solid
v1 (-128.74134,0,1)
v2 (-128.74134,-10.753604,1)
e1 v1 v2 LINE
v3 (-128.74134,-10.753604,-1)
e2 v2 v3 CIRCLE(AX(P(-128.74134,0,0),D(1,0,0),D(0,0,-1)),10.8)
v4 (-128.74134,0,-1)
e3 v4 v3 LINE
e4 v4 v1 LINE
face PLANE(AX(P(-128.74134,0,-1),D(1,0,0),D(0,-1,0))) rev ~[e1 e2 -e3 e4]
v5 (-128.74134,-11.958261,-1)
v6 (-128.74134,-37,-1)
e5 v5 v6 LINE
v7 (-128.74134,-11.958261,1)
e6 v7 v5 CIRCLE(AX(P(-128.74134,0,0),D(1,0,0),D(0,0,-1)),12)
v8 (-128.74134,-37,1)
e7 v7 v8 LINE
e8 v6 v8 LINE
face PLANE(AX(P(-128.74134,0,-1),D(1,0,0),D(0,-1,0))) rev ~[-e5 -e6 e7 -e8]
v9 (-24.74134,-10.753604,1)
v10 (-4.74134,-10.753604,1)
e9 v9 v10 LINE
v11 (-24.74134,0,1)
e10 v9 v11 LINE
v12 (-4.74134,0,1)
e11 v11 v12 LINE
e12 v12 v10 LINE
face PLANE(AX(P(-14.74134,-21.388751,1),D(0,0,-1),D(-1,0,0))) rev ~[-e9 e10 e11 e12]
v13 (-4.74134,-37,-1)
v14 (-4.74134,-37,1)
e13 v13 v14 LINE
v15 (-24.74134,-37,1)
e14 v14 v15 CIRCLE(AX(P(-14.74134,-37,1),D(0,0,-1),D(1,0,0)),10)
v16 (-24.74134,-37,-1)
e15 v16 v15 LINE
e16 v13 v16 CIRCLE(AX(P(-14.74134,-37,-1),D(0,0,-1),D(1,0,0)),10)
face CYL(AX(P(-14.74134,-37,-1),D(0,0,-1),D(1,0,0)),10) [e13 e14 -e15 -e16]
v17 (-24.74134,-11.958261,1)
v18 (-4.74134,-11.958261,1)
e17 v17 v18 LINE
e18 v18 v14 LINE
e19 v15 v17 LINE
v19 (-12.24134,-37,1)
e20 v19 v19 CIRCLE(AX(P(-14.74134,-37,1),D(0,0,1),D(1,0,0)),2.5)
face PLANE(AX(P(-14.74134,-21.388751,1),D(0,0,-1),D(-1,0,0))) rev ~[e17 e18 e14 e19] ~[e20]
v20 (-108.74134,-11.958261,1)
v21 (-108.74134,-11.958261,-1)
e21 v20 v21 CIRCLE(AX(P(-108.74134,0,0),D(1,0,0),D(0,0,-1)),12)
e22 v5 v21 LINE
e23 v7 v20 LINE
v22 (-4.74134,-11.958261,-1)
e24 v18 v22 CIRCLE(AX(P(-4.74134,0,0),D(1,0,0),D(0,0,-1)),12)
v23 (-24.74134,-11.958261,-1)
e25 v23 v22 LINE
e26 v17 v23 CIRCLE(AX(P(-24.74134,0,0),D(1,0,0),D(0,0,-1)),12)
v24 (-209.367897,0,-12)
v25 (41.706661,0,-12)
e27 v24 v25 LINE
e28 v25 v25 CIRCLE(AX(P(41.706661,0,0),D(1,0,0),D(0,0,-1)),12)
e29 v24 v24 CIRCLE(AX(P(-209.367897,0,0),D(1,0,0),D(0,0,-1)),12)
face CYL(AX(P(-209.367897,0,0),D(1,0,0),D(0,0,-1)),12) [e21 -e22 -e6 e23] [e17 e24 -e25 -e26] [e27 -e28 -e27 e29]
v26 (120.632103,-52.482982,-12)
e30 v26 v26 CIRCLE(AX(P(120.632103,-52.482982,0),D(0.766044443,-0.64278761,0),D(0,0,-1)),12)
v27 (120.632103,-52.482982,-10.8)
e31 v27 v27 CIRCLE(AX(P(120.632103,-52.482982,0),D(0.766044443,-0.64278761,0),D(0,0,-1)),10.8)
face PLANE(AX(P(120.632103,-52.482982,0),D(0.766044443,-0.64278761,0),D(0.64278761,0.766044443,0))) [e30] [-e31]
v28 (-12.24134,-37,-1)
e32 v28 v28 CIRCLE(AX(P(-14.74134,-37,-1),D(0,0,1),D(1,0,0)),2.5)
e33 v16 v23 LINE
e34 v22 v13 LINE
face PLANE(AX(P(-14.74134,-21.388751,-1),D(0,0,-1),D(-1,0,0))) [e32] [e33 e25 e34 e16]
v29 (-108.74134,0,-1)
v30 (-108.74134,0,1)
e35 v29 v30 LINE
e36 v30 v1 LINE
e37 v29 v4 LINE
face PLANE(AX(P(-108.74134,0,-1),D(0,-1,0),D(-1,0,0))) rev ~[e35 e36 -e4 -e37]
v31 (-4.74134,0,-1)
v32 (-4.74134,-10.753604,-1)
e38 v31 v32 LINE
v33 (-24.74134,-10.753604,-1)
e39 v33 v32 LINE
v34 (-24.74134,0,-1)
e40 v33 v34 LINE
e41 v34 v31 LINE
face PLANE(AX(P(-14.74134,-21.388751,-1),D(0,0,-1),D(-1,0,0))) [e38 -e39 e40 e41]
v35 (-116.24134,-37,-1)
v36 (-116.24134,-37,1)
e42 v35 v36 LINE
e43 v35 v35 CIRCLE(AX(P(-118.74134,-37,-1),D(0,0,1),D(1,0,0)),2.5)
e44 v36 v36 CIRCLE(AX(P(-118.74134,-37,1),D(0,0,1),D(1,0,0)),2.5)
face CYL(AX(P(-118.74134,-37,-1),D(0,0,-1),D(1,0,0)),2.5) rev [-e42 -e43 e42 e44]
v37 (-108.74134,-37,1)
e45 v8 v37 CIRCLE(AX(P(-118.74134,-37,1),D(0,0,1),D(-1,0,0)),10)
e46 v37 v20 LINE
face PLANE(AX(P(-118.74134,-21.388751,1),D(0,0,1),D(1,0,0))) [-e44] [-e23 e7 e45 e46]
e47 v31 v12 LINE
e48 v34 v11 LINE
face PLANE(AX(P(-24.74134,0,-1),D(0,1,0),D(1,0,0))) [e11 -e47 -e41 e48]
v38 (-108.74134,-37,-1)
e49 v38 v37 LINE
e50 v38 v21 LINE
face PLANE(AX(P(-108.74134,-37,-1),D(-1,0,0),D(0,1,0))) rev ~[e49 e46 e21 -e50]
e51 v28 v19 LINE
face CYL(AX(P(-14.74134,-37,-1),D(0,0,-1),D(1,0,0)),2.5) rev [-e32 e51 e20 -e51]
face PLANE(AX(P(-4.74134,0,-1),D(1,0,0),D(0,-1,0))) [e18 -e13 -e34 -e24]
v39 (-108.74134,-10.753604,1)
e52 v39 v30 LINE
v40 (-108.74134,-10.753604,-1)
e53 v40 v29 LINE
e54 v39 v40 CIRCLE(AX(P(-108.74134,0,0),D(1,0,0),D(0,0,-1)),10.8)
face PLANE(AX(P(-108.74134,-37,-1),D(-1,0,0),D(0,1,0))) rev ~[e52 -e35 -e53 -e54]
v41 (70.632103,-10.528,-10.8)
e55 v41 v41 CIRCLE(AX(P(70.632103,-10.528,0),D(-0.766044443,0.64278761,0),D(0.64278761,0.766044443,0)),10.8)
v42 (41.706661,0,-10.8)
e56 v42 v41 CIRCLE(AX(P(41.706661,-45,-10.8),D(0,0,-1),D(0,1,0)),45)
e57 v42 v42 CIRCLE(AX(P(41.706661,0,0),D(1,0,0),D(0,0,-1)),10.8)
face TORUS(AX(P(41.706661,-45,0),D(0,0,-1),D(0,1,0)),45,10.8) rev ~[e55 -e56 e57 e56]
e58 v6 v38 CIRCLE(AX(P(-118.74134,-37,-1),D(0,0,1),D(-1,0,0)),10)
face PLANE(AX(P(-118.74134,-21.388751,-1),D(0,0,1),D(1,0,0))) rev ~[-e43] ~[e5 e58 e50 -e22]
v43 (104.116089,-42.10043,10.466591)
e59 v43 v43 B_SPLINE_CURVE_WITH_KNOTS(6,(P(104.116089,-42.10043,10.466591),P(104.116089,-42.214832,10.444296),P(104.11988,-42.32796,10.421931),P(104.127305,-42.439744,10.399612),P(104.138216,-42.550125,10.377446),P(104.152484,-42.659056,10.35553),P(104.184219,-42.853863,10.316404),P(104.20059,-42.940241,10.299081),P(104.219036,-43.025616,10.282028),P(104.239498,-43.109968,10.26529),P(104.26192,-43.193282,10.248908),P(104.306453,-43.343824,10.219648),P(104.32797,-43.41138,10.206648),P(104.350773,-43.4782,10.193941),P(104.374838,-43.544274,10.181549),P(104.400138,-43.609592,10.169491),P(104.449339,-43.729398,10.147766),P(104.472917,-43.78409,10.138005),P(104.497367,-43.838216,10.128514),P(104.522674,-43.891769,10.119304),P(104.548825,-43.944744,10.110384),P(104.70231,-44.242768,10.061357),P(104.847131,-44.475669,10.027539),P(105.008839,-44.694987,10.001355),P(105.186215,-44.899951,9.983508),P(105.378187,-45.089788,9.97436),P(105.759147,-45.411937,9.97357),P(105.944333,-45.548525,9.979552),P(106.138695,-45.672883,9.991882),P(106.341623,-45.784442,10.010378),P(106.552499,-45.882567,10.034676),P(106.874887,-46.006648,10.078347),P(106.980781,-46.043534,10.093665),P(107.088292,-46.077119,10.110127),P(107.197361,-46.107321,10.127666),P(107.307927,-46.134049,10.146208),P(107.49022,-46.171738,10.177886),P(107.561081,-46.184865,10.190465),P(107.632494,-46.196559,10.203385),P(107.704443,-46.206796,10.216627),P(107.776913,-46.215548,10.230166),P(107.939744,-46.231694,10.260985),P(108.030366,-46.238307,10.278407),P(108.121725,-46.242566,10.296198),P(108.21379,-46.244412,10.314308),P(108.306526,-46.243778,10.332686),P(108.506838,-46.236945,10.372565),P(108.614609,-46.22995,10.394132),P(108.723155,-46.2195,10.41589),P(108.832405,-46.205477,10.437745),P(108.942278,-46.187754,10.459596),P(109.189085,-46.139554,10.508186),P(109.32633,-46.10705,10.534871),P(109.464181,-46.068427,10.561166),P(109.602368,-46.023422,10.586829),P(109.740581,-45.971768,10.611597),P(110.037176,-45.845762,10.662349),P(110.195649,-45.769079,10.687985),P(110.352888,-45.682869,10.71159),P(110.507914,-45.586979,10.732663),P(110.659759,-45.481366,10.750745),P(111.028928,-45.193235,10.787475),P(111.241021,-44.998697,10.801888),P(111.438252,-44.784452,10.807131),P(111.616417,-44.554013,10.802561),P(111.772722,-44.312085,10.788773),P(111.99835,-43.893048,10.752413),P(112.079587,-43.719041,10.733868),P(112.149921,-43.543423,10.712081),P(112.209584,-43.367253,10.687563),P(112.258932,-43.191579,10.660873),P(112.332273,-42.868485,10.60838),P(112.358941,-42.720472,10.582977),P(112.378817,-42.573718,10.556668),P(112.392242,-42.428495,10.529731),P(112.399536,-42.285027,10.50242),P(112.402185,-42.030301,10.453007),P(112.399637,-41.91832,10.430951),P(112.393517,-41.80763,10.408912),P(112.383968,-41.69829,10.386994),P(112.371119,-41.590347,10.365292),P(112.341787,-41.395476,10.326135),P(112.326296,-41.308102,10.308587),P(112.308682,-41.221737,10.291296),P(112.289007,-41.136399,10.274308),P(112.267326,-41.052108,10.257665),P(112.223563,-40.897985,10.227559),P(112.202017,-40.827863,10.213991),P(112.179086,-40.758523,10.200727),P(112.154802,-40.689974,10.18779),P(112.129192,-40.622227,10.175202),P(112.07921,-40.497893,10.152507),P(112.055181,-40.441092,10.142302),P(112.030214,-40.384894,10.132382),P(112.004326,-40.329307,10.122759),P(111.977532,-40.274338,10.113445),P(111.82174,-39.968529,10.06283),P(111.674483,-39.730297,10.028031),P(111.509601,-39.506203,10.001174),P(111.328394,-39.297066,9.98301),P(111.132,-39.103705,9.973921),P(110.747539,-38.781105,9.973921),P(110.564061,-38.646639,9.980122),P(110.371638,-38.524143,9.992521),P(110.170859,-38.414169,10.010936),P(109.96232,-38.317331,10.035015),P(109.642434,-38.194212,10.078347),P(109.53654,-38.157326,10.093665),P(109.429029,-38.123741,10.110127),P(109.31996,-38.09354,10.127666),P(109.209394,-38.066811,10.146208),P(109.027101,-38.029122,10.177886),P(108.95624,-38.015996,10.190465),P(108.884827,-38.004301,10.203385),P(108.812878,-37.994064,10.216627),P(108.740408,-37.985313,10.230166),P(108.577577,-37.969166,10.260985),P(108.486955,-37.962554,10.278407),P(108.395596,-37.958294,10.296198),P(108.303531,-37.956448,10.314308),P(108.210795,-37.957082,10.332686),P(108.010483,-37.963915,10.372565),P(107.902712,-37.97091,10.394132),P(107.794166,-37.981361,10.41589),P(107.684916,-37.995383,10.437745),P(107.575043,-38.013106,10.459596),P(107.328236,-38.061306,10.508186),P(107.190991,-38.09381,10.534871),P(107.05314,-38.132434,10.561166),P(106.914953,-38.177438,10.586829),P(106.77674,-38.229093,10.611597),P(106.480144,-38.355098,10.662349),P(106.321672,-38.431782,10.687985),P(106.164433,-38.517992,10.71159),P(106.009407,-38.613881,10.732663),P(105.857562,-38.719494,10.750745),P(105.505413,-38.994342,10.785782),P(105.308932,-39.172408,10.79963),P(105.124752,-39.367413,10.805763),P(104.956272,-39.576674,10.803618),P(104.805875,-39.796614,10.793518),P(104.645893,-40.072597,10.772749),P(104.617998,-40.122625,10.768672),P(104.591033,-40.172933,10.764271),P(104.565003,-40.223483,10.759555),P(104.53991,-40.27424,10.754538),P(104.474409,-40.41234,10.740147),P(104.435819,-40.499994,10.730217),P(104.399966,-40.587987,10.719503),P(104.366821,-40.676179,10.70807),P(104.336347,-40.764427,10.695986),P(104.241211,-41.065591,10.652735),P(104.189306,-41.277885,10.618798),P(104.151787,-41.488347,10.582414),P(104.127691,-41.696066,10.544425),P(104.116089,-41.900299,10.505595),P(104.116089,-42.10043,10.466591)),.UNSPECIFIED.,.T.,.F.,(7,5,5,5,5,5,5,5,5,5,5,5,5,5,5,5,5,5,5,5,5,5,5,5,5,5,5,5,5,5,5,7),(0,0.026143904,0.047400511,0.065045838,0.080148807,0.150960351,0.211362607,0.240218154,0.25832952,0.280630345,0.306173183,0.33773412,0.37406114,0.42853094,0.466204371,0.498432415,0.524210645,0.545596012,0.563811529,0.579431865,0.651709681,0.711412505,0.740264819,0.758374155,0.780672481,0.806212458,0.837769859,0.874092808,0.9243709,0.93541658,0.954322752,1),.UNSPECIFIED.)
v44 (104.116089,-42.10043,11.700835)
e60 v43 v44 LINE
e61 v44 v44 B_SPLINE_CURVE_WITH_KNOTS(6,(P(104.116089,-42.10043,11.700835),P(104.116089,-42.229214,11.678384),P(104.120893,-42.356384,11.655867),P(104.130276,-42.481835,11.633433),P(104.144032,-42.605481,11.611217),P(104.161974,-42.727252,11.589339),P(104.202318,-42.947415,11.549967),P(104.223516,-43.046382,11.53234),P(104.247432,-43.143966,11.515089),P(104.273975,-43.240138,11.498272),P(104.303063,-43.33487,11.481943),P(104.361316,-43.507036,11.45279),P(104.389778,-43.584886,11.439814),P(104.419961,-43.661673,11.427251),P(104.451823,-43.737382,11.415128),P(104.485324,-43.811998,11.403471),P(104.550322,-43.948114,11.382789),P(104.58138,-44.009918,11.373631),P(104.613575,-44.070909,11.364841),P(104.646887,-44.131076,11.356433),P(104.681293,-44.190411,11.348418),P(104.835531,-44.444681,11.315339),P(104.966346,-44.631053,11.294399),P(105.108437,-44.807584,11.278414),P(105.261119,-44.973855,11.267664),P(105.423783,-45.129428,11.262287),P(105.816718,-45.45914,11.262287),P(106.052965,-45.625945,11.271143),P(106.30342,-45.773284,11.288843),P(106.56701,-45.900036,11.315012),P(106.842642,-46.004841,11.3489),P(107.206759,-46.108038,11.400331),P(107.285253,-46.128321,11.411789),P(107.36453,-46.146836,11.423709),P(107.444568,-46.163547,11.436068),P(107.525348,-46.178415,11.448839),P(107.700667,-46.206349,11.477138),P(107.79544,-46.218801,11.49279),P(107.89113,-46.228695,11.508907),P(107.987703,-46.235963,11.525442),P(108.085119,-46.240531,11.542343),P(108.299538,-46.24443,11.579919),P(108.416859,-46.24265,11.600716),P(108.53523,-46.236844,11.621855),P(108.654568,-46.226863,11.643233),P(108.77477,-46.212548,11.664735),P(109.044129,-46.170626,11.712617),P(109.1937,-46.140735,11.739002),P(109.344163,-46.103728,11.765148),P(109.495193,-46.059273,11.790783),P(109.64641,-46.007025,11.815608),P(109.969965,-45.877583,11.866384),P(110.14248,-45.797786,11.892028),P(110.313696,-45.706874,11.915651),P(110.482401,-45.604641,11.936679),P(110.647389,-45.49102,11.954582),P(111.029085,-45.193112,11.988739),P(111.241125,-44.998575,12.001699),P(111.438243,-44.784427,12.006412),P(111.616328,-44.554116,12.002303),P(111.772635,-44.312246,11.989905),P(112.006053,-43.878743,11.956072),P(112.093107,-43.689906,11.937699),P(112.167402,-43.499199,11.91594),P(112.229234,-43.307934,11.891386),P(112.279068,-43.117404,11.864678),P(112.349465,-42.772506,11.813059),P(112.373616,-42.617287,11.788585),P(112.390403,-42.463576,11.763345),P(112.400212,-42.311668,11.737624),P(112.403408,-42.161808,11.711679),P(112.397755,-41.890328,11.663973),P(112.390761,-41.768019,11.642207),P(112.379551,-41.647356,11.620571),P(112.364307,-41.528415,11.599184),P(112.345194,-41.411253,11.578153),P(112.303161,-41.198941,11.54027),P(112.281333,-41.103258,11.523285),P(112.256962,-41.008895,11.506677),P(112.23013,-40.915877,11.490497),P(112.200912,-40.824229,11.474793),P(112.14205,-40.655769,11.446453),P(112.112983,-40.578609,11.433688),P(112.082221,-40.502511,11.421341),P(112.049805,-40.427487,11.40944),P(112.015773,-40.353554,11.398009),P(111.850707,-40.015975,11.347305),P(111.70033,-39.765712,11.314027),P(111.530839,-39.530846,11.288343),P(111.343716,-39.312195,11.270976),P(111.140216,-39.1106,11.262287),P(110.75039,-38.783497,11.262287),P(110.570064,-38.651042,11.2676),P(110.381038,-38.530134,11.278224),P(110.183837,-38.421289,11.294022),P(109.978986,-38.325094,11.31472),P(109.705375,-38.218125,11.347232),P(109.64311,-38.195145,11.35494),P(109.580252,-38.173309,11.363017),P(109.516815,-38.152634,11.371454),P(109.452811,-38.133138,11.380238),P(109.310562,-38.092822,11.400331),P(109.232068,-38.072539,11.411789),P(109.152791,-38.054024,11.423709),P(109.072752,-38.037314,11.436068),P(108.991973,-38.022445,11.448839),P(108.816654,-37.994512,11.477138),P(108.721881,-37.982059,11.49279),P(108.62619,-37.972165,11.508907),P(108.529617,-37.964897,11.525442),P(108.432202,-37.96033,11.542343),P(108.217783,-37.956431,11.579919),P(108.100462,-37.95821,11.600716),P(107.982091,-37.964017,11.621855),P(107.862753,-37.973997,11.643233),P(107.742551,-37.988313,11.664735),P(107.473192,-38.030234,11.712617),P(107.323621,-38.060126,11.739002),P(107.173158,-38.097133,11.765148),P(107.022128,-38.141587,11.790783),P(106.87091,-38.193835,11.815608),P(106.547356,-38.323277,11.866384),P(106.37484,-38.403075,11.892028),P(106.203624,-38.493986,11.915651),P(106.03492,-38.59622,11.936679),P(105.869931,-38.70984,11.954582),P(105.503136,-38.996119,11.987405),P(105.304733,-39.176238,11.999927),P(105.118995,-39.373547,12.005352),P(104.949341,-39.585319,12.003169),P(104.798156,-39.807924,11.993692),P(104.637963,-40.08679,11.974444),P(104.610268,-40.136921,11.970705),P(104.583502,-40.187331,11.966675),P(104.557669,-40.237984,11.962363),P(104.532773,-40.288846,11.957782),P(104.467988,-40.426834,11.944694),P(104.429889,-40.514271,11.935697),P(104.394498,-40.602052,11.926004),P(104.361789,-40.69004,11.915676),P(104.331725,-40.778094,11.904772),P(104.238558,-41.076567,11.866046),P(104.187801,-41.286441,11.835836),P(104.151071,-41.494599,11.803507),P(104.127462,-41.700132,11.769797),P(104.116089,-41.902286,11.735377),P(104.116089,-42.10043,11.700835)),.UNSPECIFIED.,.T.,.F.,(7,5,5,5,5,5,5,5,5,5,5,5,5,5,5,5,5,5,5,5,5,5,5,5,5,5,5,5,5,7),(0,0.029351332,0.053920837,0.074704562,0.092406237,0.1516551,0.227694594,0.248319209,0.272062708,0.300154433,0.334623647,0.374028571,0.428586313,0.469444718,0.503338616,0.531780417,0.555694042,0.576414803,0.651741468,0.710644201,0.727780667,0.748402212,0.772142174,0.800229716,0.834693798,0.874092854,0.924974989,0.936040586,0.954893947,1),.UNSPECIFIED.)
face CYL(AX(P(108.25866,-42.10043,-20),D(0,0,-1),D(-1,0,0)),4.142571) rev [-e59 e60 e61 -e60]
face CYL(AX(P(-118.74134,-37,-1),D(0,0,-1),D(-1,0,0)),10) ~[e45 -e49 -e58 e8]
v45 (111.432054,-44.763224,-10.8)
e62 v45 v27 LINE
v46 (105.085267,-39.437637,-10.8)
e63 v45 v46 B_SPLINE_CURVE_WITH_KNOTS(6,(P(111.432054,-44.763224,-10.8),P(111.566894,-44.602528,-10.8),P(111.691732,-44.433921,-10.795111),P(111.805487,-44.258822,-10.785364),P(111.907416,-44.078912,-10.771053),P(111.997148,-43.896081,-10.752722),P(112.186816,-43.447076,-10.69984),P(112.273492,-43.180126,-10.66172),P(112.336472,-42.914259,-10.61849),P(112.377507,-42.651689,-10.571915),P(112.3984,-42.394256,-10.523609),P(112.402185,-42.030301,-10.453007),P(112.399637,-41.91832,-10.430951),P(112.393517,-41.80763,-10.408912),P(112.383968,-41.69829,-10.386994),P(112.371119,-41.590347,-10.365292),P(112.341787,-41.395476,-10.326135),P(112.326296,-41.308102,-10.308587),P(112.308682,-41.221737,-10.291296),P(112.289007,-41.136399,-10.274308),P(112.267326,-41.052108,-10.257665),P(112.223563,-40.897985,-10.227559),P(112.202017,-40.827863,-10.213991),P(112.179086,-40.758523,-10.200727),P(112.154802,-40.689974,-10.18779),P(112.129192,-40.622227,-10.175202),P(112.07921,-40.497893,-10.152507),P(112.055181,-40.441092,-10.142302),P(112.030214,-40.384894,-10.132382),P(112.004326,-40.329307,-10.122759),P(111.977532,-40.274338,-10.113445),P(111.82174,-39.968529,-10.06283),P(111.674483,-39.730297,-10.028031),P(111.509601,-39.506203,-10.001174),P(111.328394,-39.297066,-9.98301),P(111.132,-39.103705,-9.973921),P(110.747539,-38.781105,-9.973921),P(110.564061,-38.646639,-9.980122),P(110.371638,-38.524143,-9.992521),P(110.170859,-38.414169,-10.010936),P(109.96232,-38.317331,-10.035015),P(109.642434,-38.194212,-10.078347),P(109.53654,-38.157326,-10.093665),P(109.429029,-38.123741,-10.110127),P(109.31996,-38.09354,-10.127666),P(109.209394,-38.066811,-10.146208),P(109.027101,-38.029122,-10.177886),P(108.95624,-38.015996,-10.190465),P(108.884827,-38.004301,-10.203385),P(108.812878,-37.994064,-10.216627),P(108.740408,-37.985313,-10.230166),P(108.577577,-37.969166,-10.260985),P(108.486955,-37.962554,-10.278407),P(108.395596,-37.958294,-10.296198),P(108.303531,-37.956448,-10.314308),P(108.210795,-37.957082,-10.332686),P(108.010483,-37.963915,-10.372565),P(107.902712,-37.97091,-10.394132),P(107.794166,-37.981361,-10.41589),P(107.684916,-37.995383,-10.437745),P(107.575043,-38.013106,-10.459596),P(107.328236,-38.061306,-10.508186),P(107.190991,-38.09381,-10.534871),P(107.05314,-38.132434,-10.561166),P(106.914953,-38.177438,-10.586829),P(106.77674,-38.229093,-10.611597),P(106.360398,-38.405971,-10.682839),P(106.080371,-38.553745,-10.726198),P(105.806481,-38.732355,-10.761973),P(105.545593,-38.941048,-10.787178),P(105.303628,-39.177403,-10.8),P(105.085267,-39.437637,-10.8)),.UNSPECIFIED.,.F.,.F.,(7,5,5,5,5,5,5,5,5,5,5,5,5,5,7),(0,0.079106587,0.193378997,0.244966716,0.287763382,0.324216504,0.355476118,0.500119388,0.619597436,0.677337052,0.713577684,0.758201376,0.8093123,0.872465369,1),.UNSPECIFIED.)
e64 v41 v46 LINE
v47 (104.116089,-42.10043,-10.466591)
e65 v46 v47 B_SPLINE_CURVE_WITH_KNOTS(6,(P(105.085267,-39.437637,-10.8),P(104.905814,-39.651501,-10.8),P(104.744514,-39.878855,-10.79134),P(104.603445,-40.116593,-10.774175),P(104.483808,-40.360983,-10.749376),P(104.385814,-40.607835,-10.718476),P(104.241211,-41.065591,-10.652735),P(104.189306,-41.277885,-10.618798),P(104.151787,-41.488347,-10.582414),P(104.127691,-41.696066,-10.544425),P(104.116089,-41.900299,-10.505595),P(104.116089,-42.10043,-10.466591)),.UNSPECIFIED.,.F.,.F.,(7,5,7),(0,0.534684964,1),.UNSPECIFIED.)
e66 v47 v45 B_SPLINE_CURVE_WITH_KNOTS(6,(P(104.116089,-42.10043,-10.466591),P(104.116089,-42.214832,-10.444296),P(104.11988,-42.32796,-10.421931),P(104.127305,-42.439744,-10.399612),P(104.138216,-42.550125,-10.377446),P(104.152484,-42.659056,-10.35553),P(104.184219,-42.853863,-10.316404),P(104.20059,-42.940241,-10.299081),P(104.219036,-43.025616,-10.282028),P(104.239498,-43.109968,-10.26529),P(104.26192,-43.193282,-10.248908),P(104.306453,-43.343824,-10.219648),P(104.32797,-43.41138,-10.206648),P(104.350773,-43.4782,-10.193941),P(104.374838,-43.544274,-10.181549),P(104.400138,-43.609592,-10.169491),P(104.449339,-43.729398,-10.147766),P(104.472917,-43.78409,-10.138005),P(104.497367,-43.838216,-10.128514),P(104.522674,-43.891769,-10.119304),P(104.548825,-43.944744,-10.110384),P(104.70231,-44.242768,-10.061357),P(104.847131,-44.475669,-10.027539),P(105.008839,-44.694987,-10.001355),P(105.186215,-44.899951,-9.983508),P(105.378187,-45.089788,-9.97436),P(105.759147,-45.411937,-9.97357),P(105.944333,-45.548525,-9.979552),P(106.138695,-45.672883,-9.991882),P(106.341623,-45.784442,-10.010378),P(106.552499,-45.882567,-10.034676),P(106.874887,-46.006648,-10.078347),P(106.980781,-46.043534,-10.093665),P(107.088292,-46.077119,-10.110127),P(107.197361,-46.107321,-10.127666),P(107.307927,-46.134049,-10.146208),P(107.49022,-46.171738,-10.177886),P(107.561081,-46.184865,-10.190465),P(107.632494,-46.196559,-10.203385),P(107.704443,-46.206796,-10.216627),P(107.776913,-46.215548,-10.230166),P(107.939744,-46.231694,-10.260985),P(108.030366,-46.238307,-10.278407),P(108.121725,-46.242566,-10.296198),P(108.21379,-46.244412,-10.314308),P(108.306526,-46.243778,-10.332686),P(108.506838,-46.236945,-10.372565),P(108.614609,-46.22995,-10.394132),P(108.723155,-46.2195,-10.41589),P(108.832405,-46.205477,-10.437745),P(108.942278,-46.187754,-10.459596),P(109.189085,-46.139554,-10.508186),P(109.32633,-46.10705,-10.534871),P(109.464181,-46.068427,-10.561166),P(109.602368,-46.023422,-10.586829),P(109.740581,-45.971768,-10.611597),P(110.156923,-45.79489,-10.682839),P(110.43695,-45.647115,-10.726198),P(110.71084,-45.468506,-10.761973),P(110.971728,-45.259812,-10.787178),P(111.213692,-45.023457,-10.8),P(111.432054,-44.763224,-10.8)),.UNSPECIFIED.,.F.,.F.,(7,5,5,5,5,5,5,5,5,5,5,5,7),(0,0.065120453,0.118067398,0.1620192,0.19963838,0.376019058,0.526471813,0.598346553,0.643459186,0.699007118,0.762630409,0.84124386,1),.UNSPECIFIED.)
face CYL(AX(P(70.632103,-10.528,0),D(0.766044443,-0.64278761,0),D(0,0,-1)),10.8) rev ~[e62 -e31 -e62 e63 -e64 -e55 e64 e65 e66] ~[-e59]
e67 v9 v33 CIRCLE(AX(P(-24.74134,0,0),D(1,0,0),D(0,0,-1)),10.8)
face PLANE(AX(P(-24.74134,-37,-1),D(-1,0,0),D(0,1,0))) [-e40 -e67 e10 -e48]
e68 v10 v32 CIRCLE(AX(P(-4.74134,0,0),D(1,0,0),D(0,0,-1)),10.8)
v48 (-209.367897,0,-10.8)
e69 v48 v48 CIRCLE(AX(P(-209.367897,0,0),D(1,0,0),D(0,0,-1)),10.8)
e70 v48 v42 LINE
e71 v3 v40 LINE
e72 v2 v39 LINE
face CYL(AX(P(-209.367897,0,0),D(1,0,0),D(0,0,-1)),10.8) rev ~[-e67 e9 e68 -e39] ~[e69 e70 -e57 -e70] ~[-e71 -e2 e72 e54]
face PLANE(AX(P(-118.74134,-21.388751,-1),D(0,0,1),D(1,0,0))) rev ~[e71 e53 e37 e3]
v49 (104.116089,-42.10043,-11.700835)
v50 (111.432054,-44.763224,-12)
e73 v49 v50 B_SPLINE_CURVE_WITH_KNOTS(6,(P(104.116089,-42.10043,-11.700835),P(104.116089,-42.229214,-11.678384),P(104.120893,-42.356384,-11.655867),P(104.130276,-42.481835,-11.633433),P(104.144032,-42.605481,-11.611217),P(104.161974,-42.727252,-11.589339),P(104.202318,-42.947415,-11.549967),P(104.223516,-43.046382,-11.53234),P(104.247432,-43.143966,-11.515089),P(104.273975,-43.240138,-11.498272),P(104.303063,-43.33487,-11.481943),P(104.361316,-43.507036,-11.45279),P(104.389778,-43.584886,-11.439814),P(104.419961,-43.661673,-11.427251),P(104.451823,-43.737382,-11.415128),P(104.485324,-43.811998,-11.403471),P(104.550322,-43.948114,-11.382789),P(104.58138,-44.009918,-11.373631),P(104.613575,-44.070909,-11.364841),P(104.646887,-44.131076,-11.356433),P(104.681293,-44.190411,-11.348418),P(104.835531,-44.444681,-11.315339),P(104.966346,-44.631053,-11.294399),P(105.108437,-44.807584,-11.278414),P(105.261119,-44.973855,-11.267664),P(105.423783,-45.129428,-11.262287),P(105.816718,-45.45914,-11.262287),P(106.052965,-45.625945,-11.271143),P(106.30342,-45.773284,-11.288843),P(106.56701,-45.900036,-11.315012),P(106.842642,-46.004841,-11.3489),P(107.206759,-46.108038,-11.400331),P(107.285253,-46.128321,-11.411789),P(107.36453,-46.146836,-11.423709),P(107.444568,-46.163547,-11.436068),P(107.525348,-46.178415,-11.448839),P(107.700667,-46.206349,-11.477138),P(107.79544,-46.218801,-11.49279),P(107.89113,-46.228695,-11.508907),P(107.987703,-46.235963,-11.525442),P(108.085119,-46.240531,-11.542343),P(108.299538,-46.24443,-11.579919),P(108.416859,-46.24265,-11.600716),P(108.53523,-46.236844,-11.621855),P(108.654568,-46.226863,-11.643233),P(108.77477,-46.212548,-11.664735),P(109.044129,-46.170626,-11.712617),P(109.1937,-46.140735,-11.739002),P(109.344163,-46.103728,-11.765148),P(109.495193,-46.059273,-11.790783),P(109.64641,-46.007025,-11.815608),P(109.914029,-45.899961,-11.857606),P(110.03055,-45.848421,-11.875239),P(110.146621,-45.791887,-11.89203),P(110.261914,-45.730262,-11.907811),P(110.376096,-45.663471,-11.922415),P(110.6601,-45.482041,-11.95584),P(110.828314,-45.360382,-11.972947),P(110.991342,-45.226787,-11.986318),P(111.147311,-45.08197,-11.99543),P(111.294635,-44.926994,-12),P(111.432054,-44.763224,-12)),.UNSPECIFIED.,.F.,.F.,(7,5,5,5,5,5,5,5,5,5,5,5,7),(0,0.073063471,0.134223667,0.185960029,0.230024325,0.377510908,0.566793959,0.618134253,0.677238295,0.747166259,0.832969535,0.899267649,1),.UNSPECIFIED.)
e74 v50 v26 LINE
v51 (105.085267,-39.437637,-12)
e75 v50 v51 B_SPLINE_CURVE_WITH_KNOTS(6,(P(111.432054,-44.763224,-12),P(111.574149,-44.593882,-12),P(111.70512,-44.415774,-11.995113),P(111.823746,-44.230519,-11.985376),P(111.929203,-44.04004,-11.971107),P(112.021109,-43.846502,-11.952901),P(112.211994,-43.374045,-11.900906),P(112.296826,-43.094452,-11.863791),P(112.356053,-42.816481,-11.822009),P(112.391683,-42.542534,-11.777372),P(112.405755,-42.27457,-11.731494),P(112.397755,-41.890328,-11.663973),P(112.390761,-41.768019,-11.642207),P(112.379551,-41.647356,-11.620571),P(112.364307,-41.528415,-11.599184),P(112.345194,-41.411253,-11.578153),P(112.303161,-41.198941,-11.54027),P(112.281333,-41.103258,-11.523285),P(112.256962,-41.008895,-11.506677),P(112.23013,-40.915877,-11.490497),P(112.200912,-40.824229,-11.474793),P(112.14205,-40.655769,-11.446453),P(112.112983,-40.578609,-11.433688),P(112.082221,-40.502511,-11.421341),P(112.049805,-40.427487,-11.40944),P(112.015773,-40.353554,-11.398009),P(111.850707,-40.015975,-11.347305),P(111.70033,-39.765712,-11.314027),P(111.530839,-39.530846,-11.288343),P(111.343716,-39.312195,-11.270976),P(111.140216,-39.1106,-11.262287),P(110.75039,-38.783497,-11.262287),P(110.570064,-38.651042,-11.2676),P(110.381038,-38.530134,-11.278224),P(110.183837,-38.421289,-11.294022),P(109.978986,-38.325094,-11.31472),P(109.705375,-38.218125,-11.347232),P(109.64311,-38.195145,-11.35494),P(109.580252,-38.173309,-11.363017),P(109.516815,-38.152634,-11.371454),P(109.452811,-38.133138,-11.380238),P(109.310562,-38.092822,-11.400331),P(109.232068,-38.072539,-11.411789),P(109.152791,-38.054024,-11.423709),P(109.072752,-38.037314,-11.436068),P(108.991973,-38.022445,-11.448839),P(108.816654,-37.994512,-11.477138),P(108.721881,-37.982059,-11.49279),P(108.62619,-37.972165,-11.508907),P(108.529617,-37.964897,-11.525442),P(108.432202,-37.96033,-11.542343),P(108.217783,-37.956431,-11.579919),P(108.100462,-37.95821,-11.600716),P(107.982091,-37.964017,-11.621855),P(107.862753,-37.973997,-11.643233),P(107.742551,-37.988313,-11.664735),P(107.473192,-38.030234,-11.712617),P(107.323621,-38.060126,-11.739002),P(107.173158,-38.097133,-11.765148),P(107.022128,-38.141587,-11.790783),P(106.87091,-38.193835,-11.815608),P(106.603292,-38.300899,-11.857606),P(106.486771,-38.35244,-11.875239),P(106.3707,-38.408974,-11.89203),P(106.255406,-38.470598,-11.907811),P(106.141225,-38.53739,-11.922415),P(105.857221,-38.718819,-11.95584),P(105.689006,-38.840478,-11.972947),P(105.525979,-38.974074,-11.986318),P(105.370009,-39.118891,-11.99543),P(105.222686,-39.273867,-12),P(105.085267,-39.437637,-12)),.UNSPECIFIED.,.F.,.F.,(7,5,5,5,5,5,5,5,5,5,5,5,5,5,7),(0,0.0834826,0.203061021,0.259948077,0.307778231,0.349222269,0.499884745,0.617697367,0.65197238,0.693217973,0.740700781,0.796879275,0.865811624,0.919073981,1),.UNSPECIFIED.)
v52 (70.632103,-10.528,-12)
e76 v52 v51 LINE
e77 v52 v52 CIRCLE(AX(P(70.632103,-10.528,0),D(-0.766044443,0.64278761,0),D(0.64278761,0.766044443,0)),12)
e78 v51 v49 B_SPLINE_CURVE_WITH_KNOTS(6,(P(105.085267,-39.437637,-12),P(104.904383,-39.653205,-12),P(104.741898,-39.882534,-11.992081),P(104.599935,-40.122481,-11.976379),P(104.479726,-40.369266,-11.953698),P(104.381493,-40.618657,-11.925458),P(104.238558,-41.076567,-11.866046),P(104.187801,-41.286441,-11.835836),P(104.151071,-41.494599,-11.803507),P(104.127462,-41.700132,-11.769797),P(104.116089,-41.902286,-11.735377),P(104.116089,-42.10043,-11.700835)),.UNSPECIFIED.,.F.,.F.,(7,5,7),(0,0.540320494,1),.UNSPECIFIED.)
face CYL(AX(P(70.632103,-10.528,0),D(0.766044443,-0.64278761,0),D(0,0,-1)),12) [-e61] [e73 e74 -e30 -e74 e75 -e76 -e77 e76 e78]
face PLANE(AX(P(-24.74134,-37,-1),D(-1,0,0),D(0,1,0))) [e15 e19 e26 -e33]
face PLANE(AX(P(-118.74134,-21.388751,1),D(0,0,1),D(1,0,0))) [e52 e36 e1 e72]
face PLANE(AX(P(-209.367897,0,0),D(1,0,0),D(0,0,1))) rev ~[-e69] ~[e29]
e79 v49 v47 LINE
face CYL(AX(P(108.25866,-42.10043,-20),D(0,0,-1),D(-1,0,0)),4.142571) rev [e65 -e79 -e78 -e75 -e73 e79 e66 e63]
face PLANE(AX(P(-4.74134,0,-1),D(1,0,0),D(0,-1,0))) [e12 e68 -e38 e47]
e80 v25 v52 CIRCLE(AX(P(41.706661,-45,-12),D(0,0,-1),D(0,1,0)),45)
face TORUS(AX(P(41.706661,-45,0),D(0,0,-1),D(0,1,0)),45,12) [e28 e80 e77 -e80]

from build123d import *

# Parameters (mm, degrees)
SKETCH2_R                = 12
SKETCH2_R_2              = 10.8
CUT_EXTRUDE1_DEPTH       = 20
CUT_EXTRUDE1_DEPTH_BACK  = 20
SKETCH3_R                = 4.14257131
BOSS_EXTRUDE1_DEPTH      = 1
BOSS_EXTRUDE1_DEPTH_BACK = 1
SKETCH4_R                = 2.5


with BuildPart() as part:
    # Sweep1: sweep along a path in Sketch1
    with BuildLine(Plane.XY) as sweep1_path:
        Line((-209.367896725, 0), (41.706660839, 0))
        ThreePointArc((41.706660839, 0), (57.097567289, -2.713832065), (70.632103275, -10.52800006))
        Line((70.632103275, -10.52800006), (120.632103275, -52.482981619))
    # Sketch2 → Sweep1 (sweep)
    with BuildSketch(Plane(origin=(-209.367896725, 0, 0), x_dir=(0, 0, -1), z_dir=(1, 0, 0))):
        Circle(SKETCH2_R)
        Circle(SKETCH2_R_2, mode=Mode.SUBTRACT)
    sweep(path=sweep1_path.line)

    # Sketch3 → Cut-Extrude1 (cut, two sides: drawn at the far end of the back side and taken through both)
    with BuildSketch(Plane.XY.offset(-CUT_EXTRUDE1_DEPTH_BACK)):
        with Locations((108.258660408, -42.100430272)):
            Circle(SKETCH3_R)
    extrude(amount=CUT_EXTRUDE1_DEPTH + CUT_EXTRUDE1_DEPTH_BACK, mode=Mode.SUBTRACT)

    # Sketch4 → Boss-Extrude1 (add, two sides: drawn at the far end of the back side and taken through both)
    # profile 1 of 2: a face of its own
    with BuildSketch(Plane.XY.offset(-BOSS_EXTRUDE1_DEPTH_BACK)):
        with BuildLine():
            Line((-128.741339592, 0), (-128.741339592, -37))
            ThreePointArc((-128.741339592, -37), (-118.741339592, -47), (-108.741339592, -37))
            Line((-108.741339592, -37), (-108.741339592, 0))
            Line((-108.741339592, 0), (-128.741339592, 0))
        make_face()
        with Locations((-118.741339592, -37)):
            Circle(SKETCH4_R, mode=Mode.SUBTRACT)
    # profile 2 of 2: a face of its own
    with BuildSketch(Plane.XY.offset(-BOSS_EXTRUDE1_DEPTH_BACK)):
        with BuildLine():
            Line((-24.741339592, 0), (-4.741339592, 0))
            Line((-4.741339592, 0), (-4.741339592, -37))
            ThreePointArc((-4.741339592, -37), (-14.741339592, -47), (-24.741339592, -37))
            Line((-24.741339592, -37), (-24.741339592, 0))
        make_face()
        with Locations((-14.741339592, -37)):
            Circle(SKETCH4_R, mode=Mode.SUBTRACT)
    extrude(amount=BOSS_EXTRUDE1_DEPTH + BOSS_EXTRUDE1_DEPTH_BACK)


solid = part.part
